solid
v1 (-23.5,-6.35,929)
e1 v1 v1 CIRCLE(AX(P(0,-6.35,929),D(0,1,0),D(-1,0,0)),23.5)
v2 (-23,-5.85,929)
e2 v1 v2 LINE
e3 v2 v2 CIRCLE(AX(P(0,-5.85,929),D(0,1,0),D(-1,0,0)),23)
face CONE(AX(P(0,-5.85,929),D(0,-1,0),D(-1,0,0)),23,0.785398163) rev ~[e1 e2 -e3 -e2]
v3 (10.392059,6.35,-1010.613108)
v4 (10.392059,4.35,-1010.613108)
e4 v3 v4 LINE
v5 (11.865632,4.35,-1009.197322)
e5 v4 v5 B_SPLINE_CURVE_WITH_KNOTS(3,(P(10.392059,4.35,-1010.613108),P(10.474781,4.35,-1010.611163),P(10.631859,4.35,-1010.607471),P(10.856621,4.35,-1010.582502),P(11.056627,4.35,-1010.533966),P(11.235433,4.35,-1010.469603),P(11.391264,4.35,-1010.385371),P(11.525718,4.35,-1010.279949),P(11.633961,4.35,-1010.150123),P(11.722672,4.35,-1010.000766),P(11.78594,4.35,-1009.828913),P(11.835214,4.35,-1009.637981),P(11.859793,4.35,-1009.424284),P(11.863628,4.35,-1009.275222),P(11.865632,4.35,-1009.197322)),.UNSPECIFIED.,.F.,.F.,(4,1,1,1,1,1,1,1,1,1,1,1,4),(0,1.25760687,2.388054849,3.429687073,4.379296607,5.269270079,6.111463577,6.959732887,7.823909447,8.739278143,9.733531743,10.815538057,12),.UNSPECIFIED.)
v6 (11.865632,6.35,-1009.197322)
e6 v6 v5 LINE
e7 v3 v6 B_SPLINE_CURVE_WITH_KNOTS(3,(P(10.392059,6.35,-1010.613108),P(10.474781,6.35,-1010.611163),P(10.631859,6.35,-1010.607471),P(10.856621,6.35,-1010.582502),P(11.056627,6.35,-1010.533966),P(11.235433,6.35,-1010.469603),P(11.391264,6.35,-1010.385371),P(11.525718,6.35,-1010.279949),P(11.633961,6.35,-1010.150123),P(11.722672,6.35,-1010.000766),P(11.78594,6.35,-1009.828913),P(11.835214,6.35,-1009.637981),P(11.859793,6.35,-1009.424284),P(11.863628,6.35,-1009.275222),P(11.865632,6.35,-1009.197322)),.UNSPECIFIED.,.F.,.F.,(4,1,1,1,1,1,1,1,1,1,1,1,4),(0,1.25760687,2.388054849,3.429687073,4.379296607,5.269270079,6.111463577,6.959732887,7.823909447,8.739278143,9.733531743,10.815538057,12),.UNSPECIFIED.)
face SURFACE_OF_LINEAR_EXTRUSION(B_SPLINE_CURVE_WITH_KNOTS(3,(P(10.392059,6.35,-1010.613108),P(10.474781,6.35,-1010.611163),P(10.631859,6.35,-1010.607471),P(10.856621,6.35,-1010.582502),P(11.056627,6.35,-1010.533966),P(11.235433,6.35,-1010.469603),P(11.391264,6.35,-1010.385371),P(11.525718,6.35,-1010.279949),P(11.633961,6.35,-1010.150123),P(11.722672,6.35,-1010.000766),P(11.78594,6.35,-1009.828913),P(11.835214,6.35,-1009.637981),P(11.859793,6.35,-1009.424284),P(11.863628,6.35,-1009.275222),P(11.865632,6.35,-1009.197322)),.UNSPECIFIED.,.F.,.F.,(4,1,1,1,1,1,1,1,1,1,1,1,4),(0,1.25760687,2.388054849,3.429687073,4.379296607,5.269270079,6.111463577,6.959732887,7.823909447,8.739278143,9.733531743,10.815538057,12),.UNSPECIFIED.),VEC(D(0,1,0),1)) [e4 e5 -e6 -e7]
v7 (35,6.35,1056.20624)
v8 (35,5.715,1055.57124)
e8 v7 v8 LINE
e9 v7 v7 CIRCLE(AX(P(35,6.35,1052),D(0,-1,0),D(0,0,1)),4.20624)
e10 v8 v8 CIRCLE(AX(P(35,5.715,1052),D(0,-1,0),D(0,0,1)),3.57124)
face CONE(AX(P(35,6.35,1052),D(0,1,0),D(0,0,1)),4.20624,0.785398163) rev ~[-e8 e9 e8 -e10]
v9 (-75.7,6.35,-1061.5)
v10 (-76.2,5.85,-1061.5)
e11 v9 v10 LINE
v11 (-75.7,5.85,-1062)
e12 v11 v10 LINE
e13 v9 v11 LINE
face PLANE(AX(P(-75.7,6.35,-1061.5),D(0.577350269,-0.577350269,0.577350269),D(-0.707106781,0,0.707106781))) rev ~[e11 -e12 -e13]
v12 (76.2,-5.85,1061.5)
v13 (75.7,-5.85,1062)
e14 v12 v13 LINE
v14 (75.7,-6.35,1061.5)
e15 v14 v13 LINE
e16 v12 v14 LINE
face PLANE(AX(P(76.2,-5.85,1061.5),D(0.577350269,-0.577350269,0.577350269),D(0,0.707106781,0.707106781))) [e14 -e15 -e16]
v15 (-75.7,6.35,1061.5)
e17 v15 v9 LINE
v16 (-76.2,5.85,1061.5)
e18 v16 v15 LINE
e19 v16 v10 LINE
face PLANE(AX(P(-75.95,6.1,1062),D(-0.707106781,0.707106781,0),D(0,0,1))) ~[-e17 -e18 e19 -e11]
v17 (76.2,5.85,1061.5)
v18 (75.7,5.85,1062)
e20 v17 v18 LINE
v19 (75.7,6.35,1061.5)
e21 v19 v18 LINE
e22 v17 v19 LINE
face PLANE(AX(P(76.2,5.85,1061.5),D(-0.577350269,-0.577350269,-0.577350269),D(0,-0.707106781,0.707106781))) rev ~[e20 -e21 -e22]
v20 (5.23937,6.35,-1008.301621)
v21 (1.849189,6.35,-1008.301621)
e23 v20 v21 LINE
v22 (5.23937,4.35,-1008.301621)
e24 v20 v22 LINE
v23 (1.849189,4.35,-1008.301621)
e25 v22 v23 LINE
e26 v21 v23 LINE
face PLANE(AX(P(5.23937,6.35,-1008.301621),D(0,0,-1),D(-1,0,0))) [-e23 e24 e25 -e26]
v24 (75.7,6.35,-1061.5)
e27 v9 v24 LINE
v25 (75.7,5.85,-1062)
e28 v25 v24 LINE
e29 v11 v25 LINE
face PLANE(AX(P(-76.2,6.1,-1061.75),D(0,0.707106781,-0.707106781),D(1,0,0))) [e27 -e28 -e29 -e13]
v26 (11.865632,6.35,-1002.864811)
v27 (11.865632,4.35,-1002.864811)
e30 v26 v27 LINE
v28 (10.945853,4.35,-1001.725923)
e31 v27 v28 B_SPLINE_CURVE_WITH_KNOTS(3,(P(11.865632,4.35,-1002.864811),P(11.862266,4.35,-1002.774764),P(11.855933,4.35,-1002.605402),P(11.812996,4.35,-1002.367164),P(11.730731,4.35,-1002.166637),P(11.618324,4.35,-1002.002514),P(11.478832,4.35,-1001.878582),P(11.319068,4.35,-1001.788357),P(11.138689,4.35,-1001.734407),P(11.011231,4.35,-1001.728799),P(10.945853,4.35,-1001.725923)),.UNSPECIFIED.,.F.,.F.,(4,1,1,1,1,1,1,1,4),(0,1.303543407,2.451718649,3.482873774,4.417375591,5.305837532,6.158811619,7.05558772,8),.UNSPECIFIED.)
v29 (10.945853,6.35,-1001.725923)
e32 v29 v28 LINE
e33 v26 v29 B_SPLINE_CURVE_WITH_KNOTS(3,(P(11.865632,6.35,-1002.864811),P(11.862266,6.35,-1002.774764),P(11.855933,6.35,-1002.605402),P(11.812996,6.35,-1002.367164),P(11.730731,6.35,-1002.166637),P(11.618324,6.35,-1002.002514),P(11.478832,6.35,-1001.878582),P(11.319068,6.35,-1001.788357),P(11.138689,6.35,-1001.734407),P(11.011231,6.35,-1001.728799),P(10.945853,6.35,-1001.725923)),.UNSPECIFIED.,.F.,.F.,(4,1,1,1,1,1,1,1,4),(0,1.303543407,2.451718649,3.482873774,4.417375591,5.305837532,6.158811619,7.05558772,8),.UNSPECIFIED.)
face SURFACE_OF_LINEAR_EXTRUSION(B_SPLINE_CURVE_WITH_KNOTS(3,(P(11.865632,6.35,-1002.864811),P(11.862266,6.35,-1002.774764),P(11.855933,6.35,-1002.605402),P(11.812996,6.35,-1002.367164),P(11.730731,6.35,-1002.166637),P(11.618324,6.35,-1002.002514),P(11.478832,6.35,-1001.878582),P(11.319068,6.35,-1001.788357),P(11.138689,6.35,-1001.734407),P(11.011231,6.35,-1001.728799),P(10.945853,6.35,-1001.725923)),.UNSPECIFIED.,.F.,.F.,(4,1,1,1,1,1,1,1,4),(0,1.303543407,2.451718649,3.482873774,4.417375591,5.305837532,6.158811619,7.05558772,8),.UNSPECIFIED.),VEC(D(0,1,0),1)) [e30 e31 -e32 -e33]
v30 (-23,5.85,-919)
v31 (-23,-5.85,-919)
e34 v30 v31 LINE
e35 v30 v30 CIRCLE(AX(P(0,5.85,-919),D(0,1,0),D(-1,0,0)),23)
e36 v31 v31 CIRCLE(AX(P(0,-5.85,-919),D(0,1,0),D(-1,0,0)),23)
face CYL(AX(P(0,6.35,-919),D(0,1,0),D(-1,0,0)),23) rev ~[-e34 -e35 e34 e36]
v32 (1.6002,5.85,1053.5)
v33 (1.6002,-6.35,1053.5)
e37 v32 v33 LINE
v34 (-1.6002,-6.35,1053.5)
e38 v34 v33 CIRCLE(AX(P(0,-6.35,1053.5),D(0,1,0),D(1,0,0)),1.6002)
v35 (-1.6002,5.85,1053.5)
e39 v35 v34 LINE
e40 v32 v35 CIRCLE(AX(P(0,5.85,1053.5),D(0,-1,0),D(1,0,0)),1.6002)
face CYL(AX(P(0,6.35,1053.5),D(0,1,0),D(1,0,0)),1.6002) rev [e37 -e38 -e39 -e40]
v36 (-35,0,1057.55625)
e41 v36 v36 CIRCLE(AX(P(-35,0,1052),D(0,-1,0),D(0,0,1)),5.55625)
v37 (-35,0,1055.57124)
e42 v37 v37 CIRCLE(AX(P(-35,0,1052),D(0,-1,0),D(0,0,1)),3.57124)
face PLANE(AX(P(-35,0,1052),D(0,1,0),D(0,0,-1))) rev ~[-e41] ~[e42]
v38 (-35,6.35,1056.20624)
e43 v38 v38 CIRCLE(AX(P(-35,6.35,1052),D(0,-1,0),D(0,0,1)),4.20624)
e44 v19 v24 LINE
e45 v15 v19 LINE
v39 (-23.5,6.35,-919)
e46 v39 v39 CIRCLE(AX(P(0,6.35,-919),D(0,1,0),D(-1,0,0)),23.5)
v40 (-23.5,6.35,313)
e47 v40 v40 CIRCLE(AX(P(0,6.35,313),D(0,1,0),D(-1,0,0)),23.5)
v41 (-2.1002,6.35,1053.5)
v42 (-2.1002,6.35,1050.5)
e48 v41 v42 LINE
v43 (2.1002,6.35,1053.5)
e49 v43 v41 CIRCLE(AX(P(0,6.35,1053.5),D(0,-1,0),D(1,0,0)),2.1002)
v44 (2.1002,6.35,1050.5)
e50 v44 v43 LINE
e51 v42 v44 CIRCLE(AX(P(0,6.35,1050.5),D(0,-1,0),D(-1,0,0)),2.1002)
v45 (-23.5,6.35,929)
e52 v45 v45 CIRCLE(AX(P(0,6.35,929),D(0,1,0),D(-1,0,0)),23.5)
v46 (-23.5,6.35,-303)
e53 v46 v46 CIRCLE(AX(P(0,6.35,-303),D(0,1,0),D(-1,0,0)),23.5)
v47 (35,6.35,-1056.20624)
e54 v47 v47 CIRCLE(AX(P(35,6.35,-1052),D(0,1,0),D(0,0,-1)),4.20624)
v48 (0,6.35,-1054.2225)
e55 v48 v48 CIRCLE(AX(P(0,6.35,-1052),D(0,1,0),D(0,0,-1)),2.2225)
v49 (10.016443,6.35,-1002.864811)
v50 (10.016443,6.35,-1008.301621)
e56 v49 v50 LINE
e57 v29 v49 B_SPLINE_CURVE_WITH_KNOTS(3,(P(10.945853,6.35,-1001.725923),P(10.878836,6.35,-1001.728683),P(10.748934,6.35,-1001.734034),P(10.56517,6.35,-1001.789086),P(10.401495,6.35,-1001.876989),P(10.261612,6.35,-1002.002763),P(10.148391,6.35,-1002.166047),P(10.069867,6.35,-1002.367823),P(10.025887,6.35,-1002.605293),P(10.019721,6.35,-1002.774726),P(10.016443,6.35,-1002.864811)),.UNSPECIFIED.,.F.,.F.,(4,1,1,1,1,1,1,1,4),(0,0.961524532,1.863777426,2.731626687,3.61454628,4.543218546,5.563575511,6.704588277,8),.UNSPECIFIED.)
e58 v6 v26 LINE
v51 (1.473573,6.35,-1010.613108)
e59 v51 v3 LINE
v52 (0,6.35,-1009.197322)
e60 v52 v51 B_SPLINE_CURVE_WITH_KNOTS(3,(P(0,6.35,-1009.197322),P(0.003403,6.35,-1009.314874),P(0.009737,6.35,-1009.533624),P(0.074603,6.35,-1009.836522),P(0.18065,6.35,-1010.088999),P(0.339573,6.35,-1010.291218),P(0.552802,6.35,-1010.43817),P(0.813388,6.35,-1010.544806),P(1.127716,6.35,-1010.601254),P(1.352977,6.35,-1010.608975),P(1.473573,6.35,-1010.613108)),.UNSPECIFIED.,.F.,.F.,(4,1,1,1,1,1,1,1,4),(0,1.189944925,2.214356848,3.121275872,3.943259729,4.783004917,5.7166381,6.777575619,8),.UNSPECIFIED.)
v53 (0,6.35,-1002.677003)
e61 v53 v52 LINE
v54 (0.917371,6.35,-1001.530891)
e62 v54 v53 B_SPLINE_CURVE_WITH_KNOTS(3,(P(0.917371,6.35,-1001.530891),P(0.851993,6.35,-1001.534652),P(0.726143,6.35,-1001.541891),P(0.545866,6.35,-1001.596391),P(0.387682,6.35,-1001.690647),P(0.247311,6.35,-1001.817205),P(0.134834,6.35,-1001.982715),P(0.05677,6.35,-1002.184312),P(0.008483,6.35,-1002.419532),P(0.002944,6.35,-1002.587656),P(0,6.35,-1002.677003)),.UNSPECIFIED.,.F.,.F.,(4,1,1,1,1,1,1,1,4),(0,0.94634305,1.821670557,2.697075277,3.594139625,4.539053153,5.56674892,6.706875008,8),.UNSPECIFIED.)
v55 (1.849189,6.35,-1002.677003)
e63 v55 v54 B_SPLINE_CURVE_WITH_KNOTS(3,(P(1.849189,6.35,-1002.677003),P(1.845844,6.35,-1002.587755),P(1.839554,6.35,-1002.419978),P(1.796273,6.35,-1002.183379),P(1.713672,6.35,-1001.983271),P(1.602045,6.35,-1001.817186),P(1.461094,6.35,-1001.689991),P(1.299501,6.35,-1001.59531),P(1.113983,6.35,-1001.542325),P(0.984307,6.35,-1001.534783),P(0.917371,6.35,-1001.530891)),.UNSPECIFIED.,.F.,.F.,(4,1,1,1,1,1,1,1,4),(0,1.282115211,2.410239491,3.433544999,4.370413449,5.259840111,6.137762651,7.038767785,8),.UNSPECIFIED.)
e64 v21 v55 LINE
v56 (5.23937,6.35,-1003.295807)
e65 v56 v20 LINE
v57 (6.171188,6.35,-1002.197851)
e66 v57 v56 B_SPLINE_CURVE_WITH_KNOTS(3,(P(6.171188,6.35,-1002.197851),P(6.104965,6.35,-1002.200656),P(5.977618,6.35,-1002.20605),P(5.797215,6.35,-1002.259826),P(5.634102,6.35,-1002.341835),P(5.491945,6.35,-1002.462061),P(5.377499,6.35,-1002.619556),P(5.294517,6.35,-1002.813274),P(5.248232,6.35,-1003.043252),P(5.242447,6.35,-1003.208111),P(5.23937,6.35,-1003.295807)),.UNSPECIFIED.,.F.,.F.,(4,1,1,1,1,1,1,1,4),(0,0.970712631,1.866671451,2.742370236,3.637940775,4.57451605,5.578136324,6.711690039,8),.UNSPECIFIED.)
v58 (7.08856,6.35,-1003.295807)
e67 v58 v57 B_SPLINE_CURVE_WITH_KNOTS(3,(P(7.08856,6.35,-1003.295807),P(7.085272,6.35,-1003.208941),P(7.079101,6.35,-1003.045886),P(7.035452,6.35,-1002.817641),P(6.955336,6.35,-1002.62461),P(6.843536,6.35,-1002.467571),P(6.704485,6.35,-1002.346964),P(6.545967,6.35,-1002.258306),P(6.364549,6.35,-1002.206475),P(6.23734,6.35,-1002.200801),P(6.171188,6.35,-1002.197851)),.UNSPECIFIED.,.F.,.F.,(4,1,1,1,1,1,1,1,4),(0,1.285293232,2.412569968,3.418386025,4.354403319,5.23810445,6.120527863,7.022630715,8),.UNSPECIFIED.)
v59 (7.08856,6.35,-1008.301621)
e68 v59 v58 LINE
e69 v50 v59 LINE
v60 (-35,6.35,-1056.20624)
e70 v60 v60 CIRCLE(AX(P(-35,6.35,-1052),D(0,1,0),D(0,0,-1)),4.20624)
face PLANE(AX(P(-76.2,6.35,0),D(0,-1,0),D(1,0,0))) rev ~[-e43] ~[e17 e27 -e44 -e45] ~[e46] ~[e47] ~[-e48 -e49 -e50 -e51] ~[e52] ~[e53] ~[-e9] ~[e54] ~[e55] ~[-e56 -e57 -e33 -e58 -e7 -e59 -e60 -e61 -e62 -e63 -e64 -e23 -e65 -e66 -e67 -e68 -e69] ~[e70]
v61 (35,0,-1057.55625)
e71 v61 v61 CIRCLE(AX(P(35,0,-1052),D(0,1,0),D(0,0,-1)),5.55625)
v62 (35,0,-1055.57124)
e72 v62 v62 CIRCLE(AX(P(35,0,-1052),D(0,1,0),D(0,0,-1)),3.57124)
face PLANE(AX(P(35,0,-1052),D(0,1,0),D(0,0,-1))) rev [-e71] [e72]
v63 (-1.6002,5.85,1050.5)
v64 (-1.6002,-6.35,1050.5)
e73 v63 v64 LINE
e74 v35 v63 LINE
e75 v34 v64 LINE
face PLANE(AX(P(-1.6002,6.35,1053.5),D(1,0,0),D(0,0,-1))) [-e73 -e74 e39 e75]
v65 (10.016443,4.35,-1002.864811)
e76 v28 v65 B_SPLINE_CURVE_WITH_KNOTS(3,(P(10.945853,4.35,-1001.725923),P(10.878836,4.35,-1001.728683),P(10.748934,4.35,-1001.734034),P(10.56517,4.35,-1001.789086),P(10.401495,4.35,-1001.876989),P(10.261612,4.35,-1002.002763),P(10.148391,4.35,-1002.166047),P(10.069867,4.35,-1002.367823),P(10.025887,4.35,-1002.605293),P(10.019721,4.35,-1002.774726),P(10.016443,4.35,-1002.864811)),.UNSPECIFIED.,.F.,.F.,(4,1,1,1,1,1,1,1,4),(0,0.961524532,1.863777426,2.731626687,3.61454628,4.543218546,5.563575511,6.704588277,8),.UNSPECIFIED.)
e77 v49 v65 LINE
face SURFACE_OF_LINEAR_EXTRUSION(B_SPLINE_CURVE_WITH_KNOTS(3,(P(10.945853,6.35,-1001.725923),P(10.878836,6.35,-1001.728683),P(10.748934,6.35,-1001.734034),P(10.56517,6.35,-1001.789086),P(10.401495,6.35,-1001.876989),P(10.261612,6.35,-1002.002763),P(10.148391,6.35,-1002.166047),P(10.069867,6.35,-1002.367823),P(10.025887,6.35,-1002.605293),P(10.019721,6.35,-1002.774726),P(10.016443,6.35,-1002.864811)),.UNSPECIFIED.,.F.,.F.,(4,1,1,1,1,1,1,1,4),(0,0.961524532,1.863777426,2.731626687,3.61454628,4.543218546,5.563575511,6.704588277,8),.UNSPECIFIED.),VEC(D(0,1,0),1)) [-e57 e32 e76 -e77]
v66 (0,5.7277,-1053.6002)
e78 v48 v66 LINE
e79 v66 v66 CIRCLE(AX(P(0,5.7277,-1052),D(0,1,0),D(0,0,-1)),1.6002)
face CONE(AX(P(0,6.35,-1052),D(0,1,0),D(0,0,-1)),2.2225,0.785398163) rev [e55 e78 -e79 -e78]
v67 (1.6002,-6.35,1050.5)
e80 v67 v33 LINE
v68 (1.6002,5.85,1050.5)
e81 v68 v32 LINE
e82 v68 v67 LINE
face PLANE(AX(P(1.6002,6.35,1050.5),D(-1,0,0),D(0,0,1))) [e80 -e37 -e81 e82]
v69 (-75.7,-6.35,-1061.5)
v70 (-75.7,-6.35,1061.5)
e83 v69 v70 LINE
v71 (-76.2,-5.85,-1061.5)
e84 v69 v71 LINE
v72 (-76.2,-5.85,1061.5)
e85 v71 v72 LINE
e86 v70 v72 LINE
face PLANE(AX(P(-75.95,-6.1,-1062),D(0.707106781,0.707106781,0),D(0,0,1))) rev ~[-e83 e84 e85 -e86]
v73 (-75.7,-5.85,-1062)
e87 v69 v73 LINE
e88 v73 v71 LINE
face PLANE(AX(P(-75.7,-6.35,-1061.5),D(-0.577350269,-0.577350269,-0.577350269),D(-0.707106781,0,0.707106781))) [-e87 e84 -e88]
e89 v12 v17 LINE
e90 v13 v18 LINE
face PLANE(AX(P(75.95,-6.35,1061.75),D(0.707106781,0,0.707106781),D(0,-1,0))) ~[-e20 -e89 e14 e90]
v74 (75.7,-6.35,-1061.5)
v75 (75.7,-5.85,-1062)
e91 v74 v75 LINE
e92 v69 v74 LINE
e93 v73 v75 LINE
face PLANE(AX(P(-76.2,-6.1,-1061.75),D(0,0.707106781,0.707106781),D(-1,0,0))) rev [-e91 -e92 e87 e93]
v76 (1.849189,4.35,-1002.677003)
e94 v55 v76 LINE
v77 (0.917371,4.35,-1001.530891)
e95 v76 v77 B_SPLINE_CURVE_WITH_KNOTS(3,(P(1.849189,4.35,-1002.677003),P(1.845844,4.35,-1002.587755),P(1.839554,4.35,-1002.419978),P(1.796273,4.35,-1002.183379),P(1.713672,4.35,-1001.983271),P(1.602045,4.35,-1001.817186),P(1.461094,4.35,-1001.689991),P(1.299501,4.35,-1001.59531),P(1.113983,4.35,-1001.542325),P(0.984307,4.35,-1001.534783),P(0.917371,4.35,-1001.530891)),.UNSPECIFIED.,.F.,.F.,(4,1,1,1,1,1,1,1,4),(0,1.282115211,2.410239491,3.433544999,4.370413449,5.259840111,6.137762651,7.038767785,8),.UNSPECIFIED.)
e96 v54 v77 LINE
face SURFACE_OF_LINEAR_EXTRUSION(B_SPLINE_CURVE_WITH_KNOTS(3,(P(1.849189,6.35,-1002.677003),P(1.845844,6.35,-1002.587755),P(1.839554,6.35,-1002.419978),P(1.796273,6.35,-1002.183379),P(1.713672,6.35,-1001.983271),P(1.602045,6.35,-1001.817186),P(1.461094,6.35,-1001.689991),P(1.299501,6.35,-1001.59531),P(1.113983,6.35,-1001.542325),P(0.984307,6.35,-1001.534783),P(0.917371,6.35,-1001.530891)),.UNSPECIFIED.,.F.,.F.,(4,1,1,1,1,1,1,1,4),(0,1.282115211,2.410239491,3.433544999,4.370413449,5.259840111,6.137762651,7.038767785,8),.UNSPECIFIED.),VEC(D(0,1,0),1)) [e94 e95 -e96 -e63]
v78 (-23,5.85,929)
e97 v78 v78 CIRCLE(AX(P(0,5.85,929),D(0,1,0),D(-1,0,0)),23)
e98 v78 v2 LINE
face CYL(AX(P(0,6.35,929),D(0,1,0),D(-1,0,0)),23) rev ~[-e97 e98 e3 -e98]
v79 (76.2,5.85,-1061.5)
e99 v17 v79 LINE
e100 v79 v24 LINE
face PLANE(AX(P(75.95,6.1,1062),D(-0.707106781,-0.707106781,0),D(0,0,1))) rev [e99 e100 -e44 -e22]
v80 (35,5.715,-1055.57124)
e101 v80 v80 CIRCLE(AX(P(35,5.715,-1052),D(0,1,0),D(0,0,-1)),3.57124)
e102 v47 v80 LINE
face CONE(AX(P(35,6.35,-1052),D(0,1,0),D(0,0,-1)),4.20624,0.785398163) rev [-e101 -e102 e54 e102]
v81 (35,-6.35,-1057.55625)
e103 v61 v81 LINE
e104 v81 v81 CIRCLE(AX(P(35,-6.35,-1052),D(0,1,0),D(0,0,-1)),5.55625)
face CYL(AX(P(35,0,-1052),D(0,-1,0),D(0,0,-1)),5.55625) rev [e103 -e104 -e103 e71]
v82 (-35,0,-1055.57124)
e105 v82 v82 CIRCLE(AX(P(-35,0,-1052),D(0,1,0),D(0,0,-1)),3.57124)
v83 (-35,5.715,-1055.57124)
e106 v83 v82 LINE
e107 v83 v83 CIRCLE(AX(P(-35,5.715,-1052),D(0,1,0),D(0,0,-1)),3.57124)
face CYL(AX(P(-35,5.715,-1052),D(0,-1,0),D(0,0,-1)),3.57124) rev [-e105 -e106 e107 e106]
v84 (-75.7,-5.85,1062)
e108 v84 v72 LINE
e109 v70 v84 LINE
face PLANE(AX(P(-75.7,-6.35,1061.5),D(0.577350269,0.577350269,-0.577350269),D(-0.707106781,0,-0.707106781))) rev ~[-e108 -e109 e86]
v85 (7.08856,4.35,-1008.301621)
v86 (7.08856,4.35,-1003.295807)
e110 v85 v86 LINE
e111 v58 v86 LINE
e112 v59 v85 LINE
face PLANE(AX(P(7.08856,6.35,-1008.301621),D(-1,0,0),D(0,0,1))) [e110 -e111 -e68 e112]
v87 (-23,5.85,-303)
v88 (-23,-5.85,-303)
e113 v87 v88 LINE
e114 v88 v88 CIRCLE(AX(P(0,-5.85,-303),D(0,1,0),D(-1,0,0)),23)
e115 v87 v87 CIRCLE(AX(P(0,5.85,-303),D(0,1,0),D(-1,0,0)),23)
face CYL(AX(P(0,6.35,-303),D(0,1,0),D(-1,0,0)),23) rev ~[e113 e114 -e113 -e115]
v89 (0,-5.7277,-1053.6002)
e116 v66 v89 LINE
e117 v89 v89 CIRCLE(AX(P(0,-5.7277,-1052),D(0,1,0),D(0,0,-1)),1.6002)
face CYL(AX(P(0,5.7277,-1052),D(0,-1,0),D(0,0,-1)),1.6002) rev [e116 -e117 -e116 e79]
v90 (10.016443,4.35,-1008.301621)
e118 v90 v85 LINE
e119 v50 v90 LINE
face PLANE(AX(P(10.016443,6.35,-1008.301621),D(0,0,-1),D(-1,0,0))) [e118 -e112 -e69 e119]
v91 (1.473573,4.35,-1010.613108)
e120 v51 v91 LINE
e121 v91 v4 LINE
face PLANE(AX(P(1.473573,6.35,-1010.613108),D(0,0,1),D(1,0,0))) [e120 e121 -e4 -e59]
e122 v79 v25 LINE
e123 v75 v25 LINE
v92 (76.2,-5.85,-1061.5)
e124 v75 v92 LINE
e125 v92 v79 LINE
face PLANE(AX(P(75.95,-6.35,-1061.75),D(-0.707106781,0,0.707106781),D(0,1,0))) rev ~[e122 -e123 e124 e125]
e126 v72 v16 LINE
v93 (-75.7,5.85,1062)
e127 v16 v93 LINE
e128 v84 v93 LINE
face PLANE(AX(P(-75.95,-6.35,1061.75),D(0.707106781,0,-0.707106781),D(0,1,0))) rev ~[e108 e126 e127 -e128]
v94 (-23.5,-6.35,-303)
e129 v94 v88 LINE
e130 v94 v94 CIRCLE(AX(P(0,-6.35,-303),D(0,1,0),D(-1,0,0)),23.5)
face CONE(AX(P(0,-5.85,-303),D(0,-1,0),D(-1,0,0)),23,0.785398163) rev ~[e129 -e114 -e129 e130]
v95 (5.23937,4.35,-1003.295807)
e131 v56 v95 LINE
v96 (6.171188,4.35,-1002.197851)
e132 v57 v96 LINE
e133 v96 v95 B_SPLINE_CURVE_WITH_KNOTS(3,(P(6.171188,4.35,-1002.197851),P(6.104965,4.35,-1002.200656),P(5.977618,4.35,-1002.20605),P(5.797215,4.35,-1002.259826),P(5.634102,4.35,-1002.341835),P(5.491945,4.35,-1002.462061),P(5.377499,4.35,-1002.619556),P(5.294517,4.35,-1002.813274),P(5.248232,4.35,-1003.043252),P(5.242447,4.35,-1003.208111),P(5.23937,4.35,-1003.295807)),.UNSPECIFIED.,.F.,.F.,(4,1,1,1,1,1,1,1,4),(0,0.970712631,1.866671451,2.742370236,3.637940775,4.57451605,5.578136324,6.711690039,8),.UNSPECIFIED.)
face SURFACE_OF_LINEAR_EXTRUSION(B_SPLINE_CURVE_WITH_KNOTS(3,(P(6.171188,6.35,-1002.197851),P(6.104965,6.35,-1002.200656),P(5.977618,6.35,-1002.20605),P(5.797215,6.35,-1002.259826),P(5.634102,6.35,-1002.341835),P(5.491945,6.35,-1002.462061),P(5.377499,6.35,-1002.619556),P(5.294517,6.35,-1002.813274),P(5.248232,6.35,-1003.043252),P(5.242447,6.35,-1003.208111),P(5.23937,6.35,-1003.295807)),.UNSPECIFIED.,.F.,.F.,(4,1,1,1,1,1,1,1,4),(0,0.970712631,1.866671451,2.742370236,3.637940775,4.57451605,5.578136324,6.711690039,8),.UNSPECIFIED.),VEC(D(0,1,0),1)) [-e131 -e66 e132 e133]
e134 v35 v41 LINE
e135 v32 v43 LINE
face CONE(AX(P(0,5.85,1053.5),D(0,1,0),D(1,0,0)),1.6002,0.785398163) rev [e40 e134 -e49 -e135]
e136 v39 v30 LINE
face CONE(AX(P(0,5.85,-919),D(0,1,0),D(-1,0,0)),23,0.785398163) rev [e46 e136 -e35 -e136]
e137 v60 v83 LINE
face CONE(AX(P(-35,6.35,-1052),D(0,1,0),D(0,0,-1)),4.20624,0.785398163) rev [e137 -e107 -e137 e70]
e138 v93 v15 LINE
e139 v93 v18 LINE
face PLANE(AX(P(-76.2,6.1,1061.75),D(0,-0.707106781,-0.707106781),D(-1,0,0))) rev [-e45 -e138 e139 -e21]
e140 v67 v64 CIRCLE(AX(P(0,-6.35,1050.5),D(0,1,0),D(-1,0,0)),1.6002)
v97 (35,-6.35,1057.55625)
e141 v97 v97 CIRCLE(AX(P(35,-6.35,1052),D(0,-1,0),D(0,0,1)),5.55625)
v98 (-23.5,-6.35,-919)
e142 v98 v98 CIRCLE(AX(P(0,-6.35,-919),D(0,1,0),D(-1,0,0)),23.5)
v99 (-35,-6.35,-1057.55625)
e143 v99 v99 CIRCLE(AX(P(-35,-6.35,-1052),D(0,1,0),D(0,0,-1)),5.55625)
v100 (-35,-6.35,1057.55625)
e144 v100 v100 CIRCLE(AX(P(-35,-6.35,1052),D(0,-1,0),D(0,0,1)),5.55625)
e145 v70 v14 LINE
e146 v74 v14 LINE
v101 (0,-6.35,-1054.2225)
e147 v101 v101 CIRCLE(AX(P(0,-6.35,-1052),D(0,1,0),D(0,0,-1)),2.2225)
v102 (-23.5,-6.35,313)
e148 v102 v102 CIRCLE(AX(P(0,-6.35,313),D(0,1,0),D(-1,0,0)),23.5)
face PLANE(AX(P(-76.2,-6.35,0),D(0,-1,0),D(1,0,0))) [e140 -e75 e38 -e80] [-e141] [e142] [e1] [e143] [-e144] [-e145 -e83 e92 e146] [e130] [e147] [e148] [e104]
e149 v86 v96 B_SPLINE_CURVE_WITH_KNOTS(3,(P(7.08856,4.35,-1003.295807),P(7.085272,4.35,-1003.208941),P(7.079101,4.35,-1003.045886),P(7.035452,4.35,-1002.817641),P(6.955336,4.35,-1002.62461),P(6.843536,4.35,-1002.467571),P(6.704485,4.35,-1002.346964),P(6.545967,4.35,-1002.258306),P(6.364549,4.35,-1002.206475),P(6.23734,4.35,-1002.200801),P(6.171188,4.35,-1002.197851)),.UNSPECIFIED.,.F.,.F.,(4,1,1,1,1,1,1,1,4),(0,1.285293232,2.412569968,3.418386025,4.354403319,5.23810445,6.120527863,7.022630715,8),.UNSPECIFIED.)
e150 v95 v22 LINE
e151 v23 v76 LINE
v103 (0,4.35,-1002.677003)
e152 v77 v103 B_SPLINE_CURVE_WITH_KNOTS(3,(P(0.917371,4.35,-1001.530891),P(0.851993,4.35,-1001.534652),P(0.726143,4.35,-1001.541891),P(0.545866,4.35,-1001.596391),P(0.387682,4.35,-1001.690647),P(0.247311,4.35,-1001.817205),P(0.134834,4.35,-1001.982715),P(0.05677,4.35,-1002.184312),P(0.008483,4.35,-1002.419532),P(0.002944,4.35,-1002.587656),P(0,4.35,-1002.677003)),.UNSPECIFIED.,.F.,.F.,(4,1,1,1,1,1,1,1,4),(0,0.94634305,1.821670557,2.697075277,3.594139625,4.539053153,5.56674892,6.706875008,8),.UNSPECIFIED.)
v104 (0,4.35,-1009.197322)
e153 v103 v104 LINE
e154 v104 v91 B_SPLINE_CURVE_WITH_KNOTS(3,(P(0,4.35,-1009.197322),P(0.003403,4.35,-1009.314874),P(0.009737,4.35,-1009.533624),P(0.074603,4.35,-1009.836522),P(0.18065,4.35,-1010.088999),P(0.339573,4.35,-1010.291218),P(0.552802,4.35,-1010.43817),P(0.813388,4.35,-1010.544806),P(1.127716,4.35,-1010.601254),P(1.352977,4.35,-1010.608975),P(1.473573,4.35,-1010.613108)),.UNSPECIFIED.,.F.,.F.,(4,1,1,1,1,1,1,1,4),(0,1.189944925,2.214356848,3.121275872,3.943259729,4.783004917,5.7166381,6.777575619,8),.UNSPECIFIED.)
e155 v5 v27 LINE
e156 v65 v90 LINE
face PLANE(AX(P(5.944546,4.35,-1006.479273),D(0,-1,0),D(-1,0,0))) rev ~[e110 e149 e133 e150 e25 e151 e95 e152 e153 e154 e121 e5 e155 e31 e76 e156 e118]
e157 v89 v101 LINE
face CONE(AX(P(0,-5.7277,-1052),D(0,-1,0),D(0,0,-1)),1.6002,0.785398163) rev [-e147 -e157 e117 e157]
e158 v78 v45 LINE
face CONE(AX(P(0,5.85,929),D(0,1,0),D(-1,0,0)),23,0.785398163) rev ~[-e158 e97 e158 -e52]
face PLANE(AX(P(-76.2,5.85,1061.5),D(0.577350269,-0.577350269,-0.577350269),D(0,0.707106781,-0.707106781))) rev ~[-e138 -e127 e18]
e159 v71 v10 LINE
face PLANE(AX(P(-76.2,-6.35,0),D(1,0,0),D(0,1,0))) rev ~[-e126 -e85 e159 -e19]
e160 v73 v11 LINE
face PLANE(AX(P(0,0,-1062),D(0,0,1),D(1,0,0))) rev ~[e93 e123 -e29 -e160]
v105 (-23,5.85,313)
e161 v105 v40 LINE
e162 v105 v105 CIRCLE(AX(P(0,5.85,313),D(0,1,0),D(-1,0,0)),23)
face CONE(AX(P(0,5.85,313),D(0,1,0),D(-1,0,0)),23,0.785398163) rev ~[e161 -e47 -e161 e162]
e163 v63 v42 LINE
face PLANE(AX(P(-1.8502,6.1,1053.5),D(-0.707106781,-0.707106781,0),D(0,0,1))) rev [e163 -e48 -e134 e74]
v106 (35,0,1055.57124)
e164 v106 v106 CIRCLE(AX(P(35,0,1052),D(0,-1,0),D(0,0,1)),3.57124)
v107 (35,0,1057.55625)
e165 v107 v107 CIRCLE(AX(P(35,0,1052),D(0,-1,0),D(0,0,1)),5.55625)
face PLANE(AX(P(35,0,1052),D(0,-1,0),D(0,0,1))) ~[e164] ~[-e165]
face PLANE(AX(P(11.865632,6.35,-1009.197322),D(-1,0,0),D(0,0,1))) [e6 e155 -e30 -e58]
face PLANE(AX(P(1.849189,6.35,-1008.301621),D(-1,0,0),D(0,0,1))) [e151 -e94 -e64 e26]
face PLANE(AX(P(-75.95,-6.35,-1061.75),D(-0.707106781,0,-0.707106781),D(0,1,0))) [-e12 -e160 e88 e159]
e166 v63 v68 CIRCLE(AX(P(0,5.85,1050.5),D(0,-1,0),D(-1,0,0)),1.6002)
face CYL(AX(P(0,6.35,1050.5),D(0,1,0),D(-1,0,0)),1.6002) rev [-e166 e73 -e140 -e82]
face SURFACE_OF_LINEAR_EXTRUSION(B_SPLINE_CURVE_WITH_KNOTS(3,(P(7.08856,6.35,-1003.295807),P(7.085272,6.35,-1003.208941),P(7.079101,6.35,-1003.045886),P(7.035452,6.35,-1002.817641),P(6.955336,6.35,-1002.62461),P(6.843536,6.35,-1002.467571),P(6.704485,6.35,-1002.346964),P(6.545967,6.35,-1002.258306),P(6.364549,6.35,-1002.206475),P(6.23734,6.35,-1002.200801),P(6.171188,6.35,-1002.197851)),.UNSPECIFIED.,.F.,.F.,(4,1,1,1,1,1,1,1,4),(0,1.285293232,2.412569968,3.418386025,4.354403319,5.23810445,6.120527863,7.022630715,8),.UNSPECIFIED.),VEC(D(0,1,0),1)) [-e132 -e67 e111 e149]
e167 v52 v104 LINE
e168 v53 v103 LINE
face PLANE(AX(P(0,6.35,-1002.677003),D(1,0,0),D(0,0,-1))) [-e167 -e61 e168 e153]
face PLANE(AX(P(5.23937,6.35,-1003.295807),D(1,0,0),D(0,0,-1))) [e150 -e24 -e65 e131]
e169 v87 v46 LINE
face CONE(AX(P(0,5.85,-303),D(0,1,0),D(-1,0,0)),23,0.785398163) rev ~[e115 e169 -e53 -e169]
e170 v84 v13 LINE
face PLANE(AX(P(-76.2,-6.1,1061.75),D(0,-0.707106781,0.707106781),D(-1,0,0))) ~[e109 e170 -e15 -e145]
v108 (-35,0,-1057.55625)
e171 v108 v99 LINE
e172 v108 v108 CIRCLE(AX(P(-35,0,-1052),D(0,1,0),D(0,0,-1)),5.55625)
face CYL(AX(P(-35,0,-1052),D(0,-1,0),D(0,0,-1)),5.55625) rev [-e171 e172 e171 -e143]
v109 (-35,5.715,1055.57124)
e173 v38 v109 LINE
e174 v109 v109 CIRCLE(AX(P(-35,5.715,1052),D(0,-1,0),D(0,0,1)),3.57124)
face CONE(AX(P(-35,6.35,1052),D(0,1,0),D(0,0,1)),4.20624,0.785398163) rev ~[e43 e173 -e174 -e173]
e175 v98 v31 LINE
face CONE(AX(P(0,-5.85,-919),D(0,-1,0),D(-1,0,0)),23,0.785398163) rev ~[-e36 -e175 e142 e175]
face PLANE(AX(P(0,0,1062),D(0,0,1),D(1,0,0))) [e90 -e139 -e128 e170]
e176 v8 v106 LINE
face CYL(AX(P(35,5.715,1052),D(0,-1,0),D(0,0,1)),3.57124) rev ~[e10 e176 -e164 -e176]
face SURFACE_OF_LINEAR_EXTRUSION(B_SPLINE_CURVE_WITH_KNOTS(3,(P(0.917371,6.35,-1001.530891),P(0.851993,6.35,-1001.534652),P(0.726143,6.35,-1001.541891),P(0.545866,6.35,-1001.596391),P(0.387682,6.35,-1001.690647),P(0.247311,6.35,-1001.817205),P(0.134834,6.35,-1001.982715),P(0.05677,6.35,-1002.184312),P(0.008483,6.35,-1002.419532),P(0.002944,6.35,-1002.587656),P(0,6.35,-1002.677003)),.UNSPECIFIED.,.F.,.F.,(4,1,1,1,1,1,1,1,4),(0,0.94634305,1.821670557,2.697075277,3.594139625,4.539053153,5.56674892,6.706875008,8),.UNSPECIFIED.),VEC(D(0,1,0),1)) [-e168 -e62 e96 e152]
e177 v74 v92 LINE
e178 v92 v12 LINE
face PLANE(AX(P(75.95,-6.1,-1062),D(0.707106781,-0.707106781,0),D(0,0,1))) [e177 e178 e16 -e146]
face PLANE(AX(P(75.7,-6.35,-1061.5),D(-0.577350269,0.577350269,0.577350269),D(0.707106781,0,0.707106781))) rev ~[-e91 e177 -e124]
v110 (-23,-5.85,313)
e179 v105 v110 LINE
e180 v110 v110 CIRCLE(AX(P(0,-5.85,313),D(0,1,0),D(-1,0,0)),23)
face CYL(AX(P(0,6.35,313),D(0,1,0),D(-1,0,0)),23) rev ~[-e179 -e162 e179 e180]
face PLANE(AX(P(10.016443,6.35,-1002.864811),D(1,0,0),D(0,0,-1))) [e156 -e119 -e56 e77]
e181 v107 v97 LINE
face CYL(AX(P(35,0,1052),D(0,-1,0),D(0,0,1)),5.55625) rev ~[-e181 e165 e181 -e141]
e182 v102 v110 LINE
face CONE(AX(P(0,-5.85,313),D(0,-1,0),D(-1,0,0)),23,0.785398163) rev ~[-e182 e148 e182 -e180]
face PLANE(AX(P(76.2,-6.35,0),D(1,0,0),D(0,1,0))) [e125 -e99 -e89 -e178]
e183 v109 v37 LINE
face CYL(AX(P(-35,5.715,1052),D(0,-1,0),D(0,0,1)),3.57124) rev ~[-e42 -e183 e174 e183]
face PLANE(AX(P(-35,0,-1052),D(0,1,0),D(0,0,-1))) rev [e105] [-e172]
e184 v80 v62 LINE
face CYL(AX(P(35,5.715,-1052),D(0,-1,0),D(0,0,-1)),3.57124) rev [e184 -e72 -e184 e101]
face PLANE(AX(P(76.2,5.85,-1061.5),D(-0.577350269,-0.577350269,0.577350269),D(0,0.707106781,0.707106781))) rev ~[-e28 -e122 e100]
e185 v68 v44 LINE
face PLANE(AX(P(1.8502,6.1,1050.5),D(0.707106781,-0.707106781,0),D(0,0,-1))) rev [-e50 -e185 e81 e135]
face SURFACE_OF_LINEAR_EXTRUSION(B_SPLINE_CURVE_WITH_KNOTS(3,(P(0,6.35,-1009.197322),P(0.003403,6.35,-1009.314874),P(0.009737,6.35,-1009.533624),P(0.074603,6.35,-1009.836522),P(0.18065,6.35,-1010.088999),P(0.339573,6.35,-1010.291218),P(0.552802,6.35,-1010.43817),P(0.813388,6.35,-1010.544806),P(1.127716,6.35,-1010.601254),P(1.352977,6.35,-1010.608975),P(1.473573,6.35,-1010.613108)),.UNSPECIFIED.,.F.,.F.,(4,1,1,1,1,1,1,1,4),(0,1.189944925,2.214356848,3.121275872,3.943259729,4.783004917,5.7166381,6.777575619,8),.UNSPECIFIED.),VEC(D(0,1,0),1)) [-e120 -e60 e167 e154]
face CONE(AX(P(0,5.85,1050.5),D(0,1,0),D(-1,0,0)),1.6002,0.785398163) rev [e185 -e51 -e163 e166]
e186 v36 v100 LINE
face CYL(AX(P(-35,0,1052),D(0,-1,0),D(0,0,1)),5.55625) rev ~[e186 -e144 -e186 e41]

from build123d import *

# Parameters (mm, degrees)
SKETCH1_W                                     = 152.4
SKETCH1_H                                     = 12.7
EXTRUDE_THIN1_DEPTH                           = 1062
CHAMFER1_SIZE                                 = 0.5
CBORE_FOR_1_4_SOCKET_HEAD_CAP_SCREW1_AT_COUNT = 2
CBORE_FOR_1_4_SOCKET_HEAD_CAP_SCREW1_AT_PITCH = 70
EXTRUDE1_REACH                                = 14.7
SKETCH6_R                                     = 23
GUIDE_DIAMETER_DEPTH                          = 13.7
CHAMFER2_SIZE                                 = 0.5
LPATTERN1_COUNT                               = 4
LPATTERN1_PITCH                               = 616
CHAMFER2_OF_LPATTERN1_SIZE                    = 0.5
CHAMFER3_SIZE                                 = 0.5
CUT_EXTRUDE1_DEPTH                            = 2


with BuildPart() as part:
    # Sketch1 → Extrude-Thin1 (new body, symmetric)
    with BuildSketch(Plane.XY):
        Rectangle(SKETCH1_W, SKETCH1_H)
    extrude(amount=EXTRUDE_THIN1_DEPTH, both=True)

    # Chamfer1
    chamfer1_edges = [part.edges().sort_by_distance(p)[0] for p in [
        (0, 6.35, 1062),
        (-76.2, 0, 1062),
        (-76.2, 0, -1062),
        (0, -6.35, 1062),
        (0, 6.35, -1062),
        (76.2, 0, -1062),
        (0, -6.35, -1062),
        (-76.2, -6.35, 0),
        (-76.2, 6.35, 0),
        (76.2, 6.35, 0),
        (76.2, -6.35, 0),
        (76.2, 0, 1062),
    ]]
    chamfer(chamfer1_edges, length=CHAMFER1_SIZE)

    # Sketch3 → CBORE for 1/4 Socket Head Cap Screw1 (revolve, cut)
    with BuildSketch(Plane(origin=(-35, -6.35, -1052), x_dir=(0, 0, -1), z_dir=(1, 0, 0))):
        Polygon((0, 0), (0, 12.7), (4.20624, 12.7), (3.57124, 12.065), (3.57124, 6.35), (5.55625, 6.35), (5.55625, 0), align=None)
    cbore_for_1_4_socket_head_cap_screw1 = revolve(axis=Axis((-35, -12.7, -1052), (0, 1, 0)), mode=Mode.SUBTRACT)

    # CBORE for 1/4 Socket Head Cap Screw1 at: CBORE for 1/4 Socket Head Cap Screw1 ×2
    with Locations(*[(i * CBORE_FOR_1_4_SOCKET_HEAD_CAP_SCREW1_AT_PITCH, 0, 0) for i in range(1, CBORE_FOR_1_4_SOCKET_HEAD_CAP_SCREW1_AT_COUNT)]):
        add(cbore_for_1_4_socket_head_cap_screw1, mode=Mode.SUBTRACT)

    # Sketch4 → 1/8 (0.125) Diameter Hole1 (revolve, cut)
    with BuildSketch(Plane(origin=(0, -6.35, -1052), x_dir=(0, 0, -1), z_dir=(1, 0, 0))):
        Polygon((0, 0), (0, 12.7), (2.2225, 12.7), (1.6002, 12.0777), (1.6002, 0.6223), (2.2225, 0), align=None)
    revolve(axis=Axis((0, -12.7, -1052), (0, 1, 0)), mode=Mode.SUBTRACT)

    # Mirror1: CBORE for 1/4 Socket Head Cap Screw1 across plane
    add(cbore_for_1_4_socket_head_cap_screw1.mirror(Plane.XY), mode=Mode.SUBTRACT)

    # Mirror1 copy 1 sketch → Mirror1 copy 1 (revolve, cut)
    with BuildSketch(Plane(origin=(35, -6.35, 1052), x_dir=(0, 0, 1), z_dir=(1, 0, 0))):
        Polygon((0, 0), (0, -12.7), (4.20624, -12.7), (3.57124, -12.065), (3.57124, -6.35), (5.55625, -6.35), (5.55625, 0), align=None)
    revolve(axis=Axis((35, -12.7, 1052), (0, -1, 0)), mode=Mode.SUBTRACT)

    # Sketch5 → Extrude1 (cut, up to next)
    with BuildSketch(Plane(origin=(0, 6.35, 0), x_dir=(1, 0, 0), z_dir=(0, 1, 0)), mode=Mode.PRIVATE) as extrude1_sk1:
        with BuildLine():
            Line((-1.6002, -1053.5), (-1.6002, -1050.5))
            ThreePointArc((-1.6002, -1050.5), (0, -1048.8998), (1.6002, -1050.5))
            Line((1.6002, -1050.5), (1.6002, -1053.5))
            ThreePointArc((1.6002, -1053.5), (0, -1055.1002), (-1.6002, -1053.5))
        make_face()
    extrude1_tool1 = extrude(extrude1_sk1.sketch, amount=-EXTRUDE1_REACH, mode=Mode.PRIVATE) & part.part
    add(extrude1_tool1.solids().sort_by_distance((0, 6.35, 1052))[0], mode=Mode.SUBTRACT)

    # Sketch6 → guide diameter (cut, through all)
    with BuildSketch(Plane(origin=(0, 6.35, 0), x_dir=(1, 0, 0), z_dir=(0, 1, 0))):
        with Locations(Location((0, 919, 0), (0, 0, 180))):  # turned: the seam where the file's is
            Circle(SKETCH6_R)
    guide_diameter = extrude(amount=-GUIDE_DIAMETER_DEPTH, mode=Mode.SUBTRACT)

    # Chamfer2
    chamfer2_edges = [part.edges().sort_by_distance(p)[0] for p in [
        (23, -6.35, -919),
        (23, 6.35, -919),
    ]]
    chamfer(chamfer2_edges, length=CHAMFER2_SIZE)

    # LPattern1: guide diameter ×4
    with Locations(*[(0, 0, i * LPATTERN1_PITCH) for i in range(1, LPATTERN1_COUNT)]):
        add(guide_diameter, mode=Mode.SUBTRACT)

    # Chamfer2 of LPattern1
    chamfer2_of_lpattern1_edges = [part.edges().sort_by_distance(p)[0] for p in [
        (23, -6.35, -303),
        (23, 6.35, -303),
        (23, -6.35, 313),
        (23, 6.35, 313),
        (23, -6.35, 929),
        (23, 6.35, 929),
    ]]
    chamfer(chamfer2_of_lpattern1_edges, length=CHAMFER2_OF_LPATTERN1_SIZE)

    # Chamfer3
    chamfer3_edges = [part.edges().sort_by_distance(p)[0] for p in [
        (0, 6.35, 1055.1002),
        (1.6002, 6.35, 1052),
        (0, 6.35, 1048.8998),
        (-1.6002, 6.35, 1052),
    ]]
    chamfer(chamfer3_edges, length=CHAMFER3_SIZE)

    # Sketch7 → Cut-Extrude1 (cut)
    with BuildSketch(Plane(origin=(0, 6.35, 0), x_dir=(1, 0, 0), z_dir=(0, 1, 0))):
        with BuildLine():
            Line((10.016442871, 1002.864811478), (10.016442871, 1008.301621094))
            Line((10.016442871, 1008.301621094), (7.08855957, 1008.301621094))
            Line((7.08855957, 1008.301621094), (7.08855957, 1003.295807457))
            add(Edge.make_bspline(
                [(7.08855957, 1003.295807457), (7.085272029, 1003.208940575), (7.079101125, 1003.045886399), (7.035451852, 1002.817641442), (6.955335746, 1002.62460988), (6.843536393, 1002.467570614), (6.70448491, 1002.346963747), (6.545966626, 1002.258305794), (6.364548529, 1002.206474612), (6.237339762, 1002.200801414), (6.17118824, 1002.197851219)],
                knots=[0, 0, 0, 0, 1.285293232, 2.412569968, 3.418386025, 4.354403319, 5.23810445, 6.120527863, 7.022630715, 8, 8, 8, 8], degree=3))
            add(Edge.make_bspline(
                [(6.17118824, 1002.197851219), (6.104964912, 1002.200656064), (5.977618061, 1002.206049755), (5.797214668, 1002.25982572), (5.634101786, 1002.34183535), (5.491945229, 1002.462060899), (5.377499487, 1002.6195556), (5.294517407, 1002.813274474), (5.248231883, 1003.043251768), (5.242447251, 1003.20811075), (5.239370117, 1003.295807457)],
                knots=[0, 0, 0, 0, 0.970712631, 1.866671451, 2.742370236, 3.637940775, 4.57451605, 5.578136324, 6.711690039, 8, 8, 8, 8], degree=3))
            Line((5.239370117, 1003.295807457), (5.239370117, 1008.301621094))
            Line((5.239370117, 1008.301621094), (1.849189453, 1008.301621094))
            Line((1.849189453, 1008.301621094), (1.849189453, 1002.677003174))
            add(Edge.make_bspline(
                [(1.849189453, 1002.677003174), (1.845843655, 1002.587755059), (1.839553911, 1002.419978146), (1.796273178, 1002.183378763), (1.713671661, 1001.983271463), (1.602044928, 1001.817186066), (1.461094123, 1001.68999124), (1.299501043, 1001.595310324), (1.113983026, 1001.54232453), (0.984306529, 1001.534783446), (0.91737133, 1001.530890961)],
                knots=[0, 0, 0, 0, 1.282115211, 2.410239491, 3.433544999, 4.370413449, 5.259840111, 6.137762651, 7.038767785, 8, 8, 8, 8], degree=3))
            add(Edge.make_bspline(
                [(0.91737133, 1001.530890961), (0.851993137, 1001.534651561), (0.726142864, 1001.541890558), (0.545865721, 1001.596390772), (0.387681571, 1001.690646995), (0.247310665, 1001.817205123), (0.134833927, 1001.98271475), (0.056769985, 1002.184311918), (0.008482543, 1002.419532279), (0.002943607, 1002.587655764), (0, 1002.677003174)],
                knots=[0, 0, 0, 0, 0.94634305, 1.821670557, 2.697075277, 3.594139625, 4.539053153, 5.56674892, 6.706875008, 8, 8, 8, 8], degree=3))
            Line((0, 1002.677003174), (0, 1009.197322235))
            add(Edge.make_bspline(
                [(0, 1009.197322235), (0.003403349, 1009.314873529), (0.009736608, 1009.53362358), (0.074602909, 1009.836521786), (0.180649823, 1010.088999186), (0.339573158, 1010.291217597), (0.552801999, 1010.438170066), (0.813387914, 1010.544806157), (1.127716106, 1010.601254331), (1.352976872, 1010.608974714), (1.473572845, 1010.61310791)],
                knots=[0, 0, 0, 0, 1.189944925, 2.214356848, 3.121275872, 3.943259729, 4.783004917, 5.7166381, 6.777575619, 8, 8, 8, 8], degree=3))
            Line((1.473572845, 1010.61310791), (10.392059479, 1010.61310791))
            add(Edge.make_bspline(
                [(10.392059479, 1010.61310791), (10.474780749, 1010.611163402), (10.631859192, 1010.607470999), (10.856621451, 1010.582501559), (11.056627192, 1010.533966149), (11.235432954, 1010.469602563), (11.391264364, 1010.385371213), (11.525717721, 1010.279949262), (11.633961183, 1010.150122691), (11.722671877, 1010.000765575), (11.785939946, 1009.828912547), (11.835213509, 1009.637980919), (11.859793233, 1009.424283611), (11.863628174, 1009.275222133), (11.865632324, 1009.197322235)],
                knots=[0, 0, 0, 0, 1.25760687, 2.388054849, 3.429687073, 4.379296607, 5.269270079, 6.111463577, 6.959732887, 7.823909447, 8.739278143, 9.733531743, 10.815538057, 12, 12, 12, 12], degree=3))
            Line((11.865632324, 1009.197322235), (11.865632324, 1002.864811478))
            add(Edge.make_bspline(
                [(11.865632324, 1002.864811478), (11.862265523, 1002.774764089), (11.855933206, 1002.605401979), (11.812996161, 1002.367164125), (11.730730959, 1002.166636583), (11.618324043, 1002.00251409), (11.478831829, 1001.878582005), (11.319068401, 1001.788356803), (11.138688717, 1001.73440727), (11.01123092, 1001.728799229), (10.945853195, 1001.725922661)],
                knots=[0, 0, 0, 0, 1.303543407, 2.451718649, 3.482873774, 4.417375591, 5.305837532, 6.158811619, 7.05558772, 8, 8, 8, 8], degree=3))
            add(Edge.make_bspline(
                [(10.945853195, 1001.725922661), (10.878836329, 1001.728683151), (10.748933743, 1001.734033965), (10.565169593, 1001.78908629), (10.401495053, 1001.876989185), (10.26161213, 1002.002763084), (10.148391264, 1002.166047339), (10.069867284, 1002.367823404), (10.025886735, 1002.605293266), (10.019721068, 1002.774726352), (10.016442871, 1002.864811478)],
                knots=[0, 0, 0, 0, 0.961524532, 1.863777426, 2.731626687, 3.61454628, 4.543218546, 5.563575511, 6.704588277, 8, 8, 8, 8], degree=3))
        make_face()
    extrude(amount=-CUT_EXTRUDE1_DEPTH, mode=Mode.SUBTRACT)


solid = part.part
